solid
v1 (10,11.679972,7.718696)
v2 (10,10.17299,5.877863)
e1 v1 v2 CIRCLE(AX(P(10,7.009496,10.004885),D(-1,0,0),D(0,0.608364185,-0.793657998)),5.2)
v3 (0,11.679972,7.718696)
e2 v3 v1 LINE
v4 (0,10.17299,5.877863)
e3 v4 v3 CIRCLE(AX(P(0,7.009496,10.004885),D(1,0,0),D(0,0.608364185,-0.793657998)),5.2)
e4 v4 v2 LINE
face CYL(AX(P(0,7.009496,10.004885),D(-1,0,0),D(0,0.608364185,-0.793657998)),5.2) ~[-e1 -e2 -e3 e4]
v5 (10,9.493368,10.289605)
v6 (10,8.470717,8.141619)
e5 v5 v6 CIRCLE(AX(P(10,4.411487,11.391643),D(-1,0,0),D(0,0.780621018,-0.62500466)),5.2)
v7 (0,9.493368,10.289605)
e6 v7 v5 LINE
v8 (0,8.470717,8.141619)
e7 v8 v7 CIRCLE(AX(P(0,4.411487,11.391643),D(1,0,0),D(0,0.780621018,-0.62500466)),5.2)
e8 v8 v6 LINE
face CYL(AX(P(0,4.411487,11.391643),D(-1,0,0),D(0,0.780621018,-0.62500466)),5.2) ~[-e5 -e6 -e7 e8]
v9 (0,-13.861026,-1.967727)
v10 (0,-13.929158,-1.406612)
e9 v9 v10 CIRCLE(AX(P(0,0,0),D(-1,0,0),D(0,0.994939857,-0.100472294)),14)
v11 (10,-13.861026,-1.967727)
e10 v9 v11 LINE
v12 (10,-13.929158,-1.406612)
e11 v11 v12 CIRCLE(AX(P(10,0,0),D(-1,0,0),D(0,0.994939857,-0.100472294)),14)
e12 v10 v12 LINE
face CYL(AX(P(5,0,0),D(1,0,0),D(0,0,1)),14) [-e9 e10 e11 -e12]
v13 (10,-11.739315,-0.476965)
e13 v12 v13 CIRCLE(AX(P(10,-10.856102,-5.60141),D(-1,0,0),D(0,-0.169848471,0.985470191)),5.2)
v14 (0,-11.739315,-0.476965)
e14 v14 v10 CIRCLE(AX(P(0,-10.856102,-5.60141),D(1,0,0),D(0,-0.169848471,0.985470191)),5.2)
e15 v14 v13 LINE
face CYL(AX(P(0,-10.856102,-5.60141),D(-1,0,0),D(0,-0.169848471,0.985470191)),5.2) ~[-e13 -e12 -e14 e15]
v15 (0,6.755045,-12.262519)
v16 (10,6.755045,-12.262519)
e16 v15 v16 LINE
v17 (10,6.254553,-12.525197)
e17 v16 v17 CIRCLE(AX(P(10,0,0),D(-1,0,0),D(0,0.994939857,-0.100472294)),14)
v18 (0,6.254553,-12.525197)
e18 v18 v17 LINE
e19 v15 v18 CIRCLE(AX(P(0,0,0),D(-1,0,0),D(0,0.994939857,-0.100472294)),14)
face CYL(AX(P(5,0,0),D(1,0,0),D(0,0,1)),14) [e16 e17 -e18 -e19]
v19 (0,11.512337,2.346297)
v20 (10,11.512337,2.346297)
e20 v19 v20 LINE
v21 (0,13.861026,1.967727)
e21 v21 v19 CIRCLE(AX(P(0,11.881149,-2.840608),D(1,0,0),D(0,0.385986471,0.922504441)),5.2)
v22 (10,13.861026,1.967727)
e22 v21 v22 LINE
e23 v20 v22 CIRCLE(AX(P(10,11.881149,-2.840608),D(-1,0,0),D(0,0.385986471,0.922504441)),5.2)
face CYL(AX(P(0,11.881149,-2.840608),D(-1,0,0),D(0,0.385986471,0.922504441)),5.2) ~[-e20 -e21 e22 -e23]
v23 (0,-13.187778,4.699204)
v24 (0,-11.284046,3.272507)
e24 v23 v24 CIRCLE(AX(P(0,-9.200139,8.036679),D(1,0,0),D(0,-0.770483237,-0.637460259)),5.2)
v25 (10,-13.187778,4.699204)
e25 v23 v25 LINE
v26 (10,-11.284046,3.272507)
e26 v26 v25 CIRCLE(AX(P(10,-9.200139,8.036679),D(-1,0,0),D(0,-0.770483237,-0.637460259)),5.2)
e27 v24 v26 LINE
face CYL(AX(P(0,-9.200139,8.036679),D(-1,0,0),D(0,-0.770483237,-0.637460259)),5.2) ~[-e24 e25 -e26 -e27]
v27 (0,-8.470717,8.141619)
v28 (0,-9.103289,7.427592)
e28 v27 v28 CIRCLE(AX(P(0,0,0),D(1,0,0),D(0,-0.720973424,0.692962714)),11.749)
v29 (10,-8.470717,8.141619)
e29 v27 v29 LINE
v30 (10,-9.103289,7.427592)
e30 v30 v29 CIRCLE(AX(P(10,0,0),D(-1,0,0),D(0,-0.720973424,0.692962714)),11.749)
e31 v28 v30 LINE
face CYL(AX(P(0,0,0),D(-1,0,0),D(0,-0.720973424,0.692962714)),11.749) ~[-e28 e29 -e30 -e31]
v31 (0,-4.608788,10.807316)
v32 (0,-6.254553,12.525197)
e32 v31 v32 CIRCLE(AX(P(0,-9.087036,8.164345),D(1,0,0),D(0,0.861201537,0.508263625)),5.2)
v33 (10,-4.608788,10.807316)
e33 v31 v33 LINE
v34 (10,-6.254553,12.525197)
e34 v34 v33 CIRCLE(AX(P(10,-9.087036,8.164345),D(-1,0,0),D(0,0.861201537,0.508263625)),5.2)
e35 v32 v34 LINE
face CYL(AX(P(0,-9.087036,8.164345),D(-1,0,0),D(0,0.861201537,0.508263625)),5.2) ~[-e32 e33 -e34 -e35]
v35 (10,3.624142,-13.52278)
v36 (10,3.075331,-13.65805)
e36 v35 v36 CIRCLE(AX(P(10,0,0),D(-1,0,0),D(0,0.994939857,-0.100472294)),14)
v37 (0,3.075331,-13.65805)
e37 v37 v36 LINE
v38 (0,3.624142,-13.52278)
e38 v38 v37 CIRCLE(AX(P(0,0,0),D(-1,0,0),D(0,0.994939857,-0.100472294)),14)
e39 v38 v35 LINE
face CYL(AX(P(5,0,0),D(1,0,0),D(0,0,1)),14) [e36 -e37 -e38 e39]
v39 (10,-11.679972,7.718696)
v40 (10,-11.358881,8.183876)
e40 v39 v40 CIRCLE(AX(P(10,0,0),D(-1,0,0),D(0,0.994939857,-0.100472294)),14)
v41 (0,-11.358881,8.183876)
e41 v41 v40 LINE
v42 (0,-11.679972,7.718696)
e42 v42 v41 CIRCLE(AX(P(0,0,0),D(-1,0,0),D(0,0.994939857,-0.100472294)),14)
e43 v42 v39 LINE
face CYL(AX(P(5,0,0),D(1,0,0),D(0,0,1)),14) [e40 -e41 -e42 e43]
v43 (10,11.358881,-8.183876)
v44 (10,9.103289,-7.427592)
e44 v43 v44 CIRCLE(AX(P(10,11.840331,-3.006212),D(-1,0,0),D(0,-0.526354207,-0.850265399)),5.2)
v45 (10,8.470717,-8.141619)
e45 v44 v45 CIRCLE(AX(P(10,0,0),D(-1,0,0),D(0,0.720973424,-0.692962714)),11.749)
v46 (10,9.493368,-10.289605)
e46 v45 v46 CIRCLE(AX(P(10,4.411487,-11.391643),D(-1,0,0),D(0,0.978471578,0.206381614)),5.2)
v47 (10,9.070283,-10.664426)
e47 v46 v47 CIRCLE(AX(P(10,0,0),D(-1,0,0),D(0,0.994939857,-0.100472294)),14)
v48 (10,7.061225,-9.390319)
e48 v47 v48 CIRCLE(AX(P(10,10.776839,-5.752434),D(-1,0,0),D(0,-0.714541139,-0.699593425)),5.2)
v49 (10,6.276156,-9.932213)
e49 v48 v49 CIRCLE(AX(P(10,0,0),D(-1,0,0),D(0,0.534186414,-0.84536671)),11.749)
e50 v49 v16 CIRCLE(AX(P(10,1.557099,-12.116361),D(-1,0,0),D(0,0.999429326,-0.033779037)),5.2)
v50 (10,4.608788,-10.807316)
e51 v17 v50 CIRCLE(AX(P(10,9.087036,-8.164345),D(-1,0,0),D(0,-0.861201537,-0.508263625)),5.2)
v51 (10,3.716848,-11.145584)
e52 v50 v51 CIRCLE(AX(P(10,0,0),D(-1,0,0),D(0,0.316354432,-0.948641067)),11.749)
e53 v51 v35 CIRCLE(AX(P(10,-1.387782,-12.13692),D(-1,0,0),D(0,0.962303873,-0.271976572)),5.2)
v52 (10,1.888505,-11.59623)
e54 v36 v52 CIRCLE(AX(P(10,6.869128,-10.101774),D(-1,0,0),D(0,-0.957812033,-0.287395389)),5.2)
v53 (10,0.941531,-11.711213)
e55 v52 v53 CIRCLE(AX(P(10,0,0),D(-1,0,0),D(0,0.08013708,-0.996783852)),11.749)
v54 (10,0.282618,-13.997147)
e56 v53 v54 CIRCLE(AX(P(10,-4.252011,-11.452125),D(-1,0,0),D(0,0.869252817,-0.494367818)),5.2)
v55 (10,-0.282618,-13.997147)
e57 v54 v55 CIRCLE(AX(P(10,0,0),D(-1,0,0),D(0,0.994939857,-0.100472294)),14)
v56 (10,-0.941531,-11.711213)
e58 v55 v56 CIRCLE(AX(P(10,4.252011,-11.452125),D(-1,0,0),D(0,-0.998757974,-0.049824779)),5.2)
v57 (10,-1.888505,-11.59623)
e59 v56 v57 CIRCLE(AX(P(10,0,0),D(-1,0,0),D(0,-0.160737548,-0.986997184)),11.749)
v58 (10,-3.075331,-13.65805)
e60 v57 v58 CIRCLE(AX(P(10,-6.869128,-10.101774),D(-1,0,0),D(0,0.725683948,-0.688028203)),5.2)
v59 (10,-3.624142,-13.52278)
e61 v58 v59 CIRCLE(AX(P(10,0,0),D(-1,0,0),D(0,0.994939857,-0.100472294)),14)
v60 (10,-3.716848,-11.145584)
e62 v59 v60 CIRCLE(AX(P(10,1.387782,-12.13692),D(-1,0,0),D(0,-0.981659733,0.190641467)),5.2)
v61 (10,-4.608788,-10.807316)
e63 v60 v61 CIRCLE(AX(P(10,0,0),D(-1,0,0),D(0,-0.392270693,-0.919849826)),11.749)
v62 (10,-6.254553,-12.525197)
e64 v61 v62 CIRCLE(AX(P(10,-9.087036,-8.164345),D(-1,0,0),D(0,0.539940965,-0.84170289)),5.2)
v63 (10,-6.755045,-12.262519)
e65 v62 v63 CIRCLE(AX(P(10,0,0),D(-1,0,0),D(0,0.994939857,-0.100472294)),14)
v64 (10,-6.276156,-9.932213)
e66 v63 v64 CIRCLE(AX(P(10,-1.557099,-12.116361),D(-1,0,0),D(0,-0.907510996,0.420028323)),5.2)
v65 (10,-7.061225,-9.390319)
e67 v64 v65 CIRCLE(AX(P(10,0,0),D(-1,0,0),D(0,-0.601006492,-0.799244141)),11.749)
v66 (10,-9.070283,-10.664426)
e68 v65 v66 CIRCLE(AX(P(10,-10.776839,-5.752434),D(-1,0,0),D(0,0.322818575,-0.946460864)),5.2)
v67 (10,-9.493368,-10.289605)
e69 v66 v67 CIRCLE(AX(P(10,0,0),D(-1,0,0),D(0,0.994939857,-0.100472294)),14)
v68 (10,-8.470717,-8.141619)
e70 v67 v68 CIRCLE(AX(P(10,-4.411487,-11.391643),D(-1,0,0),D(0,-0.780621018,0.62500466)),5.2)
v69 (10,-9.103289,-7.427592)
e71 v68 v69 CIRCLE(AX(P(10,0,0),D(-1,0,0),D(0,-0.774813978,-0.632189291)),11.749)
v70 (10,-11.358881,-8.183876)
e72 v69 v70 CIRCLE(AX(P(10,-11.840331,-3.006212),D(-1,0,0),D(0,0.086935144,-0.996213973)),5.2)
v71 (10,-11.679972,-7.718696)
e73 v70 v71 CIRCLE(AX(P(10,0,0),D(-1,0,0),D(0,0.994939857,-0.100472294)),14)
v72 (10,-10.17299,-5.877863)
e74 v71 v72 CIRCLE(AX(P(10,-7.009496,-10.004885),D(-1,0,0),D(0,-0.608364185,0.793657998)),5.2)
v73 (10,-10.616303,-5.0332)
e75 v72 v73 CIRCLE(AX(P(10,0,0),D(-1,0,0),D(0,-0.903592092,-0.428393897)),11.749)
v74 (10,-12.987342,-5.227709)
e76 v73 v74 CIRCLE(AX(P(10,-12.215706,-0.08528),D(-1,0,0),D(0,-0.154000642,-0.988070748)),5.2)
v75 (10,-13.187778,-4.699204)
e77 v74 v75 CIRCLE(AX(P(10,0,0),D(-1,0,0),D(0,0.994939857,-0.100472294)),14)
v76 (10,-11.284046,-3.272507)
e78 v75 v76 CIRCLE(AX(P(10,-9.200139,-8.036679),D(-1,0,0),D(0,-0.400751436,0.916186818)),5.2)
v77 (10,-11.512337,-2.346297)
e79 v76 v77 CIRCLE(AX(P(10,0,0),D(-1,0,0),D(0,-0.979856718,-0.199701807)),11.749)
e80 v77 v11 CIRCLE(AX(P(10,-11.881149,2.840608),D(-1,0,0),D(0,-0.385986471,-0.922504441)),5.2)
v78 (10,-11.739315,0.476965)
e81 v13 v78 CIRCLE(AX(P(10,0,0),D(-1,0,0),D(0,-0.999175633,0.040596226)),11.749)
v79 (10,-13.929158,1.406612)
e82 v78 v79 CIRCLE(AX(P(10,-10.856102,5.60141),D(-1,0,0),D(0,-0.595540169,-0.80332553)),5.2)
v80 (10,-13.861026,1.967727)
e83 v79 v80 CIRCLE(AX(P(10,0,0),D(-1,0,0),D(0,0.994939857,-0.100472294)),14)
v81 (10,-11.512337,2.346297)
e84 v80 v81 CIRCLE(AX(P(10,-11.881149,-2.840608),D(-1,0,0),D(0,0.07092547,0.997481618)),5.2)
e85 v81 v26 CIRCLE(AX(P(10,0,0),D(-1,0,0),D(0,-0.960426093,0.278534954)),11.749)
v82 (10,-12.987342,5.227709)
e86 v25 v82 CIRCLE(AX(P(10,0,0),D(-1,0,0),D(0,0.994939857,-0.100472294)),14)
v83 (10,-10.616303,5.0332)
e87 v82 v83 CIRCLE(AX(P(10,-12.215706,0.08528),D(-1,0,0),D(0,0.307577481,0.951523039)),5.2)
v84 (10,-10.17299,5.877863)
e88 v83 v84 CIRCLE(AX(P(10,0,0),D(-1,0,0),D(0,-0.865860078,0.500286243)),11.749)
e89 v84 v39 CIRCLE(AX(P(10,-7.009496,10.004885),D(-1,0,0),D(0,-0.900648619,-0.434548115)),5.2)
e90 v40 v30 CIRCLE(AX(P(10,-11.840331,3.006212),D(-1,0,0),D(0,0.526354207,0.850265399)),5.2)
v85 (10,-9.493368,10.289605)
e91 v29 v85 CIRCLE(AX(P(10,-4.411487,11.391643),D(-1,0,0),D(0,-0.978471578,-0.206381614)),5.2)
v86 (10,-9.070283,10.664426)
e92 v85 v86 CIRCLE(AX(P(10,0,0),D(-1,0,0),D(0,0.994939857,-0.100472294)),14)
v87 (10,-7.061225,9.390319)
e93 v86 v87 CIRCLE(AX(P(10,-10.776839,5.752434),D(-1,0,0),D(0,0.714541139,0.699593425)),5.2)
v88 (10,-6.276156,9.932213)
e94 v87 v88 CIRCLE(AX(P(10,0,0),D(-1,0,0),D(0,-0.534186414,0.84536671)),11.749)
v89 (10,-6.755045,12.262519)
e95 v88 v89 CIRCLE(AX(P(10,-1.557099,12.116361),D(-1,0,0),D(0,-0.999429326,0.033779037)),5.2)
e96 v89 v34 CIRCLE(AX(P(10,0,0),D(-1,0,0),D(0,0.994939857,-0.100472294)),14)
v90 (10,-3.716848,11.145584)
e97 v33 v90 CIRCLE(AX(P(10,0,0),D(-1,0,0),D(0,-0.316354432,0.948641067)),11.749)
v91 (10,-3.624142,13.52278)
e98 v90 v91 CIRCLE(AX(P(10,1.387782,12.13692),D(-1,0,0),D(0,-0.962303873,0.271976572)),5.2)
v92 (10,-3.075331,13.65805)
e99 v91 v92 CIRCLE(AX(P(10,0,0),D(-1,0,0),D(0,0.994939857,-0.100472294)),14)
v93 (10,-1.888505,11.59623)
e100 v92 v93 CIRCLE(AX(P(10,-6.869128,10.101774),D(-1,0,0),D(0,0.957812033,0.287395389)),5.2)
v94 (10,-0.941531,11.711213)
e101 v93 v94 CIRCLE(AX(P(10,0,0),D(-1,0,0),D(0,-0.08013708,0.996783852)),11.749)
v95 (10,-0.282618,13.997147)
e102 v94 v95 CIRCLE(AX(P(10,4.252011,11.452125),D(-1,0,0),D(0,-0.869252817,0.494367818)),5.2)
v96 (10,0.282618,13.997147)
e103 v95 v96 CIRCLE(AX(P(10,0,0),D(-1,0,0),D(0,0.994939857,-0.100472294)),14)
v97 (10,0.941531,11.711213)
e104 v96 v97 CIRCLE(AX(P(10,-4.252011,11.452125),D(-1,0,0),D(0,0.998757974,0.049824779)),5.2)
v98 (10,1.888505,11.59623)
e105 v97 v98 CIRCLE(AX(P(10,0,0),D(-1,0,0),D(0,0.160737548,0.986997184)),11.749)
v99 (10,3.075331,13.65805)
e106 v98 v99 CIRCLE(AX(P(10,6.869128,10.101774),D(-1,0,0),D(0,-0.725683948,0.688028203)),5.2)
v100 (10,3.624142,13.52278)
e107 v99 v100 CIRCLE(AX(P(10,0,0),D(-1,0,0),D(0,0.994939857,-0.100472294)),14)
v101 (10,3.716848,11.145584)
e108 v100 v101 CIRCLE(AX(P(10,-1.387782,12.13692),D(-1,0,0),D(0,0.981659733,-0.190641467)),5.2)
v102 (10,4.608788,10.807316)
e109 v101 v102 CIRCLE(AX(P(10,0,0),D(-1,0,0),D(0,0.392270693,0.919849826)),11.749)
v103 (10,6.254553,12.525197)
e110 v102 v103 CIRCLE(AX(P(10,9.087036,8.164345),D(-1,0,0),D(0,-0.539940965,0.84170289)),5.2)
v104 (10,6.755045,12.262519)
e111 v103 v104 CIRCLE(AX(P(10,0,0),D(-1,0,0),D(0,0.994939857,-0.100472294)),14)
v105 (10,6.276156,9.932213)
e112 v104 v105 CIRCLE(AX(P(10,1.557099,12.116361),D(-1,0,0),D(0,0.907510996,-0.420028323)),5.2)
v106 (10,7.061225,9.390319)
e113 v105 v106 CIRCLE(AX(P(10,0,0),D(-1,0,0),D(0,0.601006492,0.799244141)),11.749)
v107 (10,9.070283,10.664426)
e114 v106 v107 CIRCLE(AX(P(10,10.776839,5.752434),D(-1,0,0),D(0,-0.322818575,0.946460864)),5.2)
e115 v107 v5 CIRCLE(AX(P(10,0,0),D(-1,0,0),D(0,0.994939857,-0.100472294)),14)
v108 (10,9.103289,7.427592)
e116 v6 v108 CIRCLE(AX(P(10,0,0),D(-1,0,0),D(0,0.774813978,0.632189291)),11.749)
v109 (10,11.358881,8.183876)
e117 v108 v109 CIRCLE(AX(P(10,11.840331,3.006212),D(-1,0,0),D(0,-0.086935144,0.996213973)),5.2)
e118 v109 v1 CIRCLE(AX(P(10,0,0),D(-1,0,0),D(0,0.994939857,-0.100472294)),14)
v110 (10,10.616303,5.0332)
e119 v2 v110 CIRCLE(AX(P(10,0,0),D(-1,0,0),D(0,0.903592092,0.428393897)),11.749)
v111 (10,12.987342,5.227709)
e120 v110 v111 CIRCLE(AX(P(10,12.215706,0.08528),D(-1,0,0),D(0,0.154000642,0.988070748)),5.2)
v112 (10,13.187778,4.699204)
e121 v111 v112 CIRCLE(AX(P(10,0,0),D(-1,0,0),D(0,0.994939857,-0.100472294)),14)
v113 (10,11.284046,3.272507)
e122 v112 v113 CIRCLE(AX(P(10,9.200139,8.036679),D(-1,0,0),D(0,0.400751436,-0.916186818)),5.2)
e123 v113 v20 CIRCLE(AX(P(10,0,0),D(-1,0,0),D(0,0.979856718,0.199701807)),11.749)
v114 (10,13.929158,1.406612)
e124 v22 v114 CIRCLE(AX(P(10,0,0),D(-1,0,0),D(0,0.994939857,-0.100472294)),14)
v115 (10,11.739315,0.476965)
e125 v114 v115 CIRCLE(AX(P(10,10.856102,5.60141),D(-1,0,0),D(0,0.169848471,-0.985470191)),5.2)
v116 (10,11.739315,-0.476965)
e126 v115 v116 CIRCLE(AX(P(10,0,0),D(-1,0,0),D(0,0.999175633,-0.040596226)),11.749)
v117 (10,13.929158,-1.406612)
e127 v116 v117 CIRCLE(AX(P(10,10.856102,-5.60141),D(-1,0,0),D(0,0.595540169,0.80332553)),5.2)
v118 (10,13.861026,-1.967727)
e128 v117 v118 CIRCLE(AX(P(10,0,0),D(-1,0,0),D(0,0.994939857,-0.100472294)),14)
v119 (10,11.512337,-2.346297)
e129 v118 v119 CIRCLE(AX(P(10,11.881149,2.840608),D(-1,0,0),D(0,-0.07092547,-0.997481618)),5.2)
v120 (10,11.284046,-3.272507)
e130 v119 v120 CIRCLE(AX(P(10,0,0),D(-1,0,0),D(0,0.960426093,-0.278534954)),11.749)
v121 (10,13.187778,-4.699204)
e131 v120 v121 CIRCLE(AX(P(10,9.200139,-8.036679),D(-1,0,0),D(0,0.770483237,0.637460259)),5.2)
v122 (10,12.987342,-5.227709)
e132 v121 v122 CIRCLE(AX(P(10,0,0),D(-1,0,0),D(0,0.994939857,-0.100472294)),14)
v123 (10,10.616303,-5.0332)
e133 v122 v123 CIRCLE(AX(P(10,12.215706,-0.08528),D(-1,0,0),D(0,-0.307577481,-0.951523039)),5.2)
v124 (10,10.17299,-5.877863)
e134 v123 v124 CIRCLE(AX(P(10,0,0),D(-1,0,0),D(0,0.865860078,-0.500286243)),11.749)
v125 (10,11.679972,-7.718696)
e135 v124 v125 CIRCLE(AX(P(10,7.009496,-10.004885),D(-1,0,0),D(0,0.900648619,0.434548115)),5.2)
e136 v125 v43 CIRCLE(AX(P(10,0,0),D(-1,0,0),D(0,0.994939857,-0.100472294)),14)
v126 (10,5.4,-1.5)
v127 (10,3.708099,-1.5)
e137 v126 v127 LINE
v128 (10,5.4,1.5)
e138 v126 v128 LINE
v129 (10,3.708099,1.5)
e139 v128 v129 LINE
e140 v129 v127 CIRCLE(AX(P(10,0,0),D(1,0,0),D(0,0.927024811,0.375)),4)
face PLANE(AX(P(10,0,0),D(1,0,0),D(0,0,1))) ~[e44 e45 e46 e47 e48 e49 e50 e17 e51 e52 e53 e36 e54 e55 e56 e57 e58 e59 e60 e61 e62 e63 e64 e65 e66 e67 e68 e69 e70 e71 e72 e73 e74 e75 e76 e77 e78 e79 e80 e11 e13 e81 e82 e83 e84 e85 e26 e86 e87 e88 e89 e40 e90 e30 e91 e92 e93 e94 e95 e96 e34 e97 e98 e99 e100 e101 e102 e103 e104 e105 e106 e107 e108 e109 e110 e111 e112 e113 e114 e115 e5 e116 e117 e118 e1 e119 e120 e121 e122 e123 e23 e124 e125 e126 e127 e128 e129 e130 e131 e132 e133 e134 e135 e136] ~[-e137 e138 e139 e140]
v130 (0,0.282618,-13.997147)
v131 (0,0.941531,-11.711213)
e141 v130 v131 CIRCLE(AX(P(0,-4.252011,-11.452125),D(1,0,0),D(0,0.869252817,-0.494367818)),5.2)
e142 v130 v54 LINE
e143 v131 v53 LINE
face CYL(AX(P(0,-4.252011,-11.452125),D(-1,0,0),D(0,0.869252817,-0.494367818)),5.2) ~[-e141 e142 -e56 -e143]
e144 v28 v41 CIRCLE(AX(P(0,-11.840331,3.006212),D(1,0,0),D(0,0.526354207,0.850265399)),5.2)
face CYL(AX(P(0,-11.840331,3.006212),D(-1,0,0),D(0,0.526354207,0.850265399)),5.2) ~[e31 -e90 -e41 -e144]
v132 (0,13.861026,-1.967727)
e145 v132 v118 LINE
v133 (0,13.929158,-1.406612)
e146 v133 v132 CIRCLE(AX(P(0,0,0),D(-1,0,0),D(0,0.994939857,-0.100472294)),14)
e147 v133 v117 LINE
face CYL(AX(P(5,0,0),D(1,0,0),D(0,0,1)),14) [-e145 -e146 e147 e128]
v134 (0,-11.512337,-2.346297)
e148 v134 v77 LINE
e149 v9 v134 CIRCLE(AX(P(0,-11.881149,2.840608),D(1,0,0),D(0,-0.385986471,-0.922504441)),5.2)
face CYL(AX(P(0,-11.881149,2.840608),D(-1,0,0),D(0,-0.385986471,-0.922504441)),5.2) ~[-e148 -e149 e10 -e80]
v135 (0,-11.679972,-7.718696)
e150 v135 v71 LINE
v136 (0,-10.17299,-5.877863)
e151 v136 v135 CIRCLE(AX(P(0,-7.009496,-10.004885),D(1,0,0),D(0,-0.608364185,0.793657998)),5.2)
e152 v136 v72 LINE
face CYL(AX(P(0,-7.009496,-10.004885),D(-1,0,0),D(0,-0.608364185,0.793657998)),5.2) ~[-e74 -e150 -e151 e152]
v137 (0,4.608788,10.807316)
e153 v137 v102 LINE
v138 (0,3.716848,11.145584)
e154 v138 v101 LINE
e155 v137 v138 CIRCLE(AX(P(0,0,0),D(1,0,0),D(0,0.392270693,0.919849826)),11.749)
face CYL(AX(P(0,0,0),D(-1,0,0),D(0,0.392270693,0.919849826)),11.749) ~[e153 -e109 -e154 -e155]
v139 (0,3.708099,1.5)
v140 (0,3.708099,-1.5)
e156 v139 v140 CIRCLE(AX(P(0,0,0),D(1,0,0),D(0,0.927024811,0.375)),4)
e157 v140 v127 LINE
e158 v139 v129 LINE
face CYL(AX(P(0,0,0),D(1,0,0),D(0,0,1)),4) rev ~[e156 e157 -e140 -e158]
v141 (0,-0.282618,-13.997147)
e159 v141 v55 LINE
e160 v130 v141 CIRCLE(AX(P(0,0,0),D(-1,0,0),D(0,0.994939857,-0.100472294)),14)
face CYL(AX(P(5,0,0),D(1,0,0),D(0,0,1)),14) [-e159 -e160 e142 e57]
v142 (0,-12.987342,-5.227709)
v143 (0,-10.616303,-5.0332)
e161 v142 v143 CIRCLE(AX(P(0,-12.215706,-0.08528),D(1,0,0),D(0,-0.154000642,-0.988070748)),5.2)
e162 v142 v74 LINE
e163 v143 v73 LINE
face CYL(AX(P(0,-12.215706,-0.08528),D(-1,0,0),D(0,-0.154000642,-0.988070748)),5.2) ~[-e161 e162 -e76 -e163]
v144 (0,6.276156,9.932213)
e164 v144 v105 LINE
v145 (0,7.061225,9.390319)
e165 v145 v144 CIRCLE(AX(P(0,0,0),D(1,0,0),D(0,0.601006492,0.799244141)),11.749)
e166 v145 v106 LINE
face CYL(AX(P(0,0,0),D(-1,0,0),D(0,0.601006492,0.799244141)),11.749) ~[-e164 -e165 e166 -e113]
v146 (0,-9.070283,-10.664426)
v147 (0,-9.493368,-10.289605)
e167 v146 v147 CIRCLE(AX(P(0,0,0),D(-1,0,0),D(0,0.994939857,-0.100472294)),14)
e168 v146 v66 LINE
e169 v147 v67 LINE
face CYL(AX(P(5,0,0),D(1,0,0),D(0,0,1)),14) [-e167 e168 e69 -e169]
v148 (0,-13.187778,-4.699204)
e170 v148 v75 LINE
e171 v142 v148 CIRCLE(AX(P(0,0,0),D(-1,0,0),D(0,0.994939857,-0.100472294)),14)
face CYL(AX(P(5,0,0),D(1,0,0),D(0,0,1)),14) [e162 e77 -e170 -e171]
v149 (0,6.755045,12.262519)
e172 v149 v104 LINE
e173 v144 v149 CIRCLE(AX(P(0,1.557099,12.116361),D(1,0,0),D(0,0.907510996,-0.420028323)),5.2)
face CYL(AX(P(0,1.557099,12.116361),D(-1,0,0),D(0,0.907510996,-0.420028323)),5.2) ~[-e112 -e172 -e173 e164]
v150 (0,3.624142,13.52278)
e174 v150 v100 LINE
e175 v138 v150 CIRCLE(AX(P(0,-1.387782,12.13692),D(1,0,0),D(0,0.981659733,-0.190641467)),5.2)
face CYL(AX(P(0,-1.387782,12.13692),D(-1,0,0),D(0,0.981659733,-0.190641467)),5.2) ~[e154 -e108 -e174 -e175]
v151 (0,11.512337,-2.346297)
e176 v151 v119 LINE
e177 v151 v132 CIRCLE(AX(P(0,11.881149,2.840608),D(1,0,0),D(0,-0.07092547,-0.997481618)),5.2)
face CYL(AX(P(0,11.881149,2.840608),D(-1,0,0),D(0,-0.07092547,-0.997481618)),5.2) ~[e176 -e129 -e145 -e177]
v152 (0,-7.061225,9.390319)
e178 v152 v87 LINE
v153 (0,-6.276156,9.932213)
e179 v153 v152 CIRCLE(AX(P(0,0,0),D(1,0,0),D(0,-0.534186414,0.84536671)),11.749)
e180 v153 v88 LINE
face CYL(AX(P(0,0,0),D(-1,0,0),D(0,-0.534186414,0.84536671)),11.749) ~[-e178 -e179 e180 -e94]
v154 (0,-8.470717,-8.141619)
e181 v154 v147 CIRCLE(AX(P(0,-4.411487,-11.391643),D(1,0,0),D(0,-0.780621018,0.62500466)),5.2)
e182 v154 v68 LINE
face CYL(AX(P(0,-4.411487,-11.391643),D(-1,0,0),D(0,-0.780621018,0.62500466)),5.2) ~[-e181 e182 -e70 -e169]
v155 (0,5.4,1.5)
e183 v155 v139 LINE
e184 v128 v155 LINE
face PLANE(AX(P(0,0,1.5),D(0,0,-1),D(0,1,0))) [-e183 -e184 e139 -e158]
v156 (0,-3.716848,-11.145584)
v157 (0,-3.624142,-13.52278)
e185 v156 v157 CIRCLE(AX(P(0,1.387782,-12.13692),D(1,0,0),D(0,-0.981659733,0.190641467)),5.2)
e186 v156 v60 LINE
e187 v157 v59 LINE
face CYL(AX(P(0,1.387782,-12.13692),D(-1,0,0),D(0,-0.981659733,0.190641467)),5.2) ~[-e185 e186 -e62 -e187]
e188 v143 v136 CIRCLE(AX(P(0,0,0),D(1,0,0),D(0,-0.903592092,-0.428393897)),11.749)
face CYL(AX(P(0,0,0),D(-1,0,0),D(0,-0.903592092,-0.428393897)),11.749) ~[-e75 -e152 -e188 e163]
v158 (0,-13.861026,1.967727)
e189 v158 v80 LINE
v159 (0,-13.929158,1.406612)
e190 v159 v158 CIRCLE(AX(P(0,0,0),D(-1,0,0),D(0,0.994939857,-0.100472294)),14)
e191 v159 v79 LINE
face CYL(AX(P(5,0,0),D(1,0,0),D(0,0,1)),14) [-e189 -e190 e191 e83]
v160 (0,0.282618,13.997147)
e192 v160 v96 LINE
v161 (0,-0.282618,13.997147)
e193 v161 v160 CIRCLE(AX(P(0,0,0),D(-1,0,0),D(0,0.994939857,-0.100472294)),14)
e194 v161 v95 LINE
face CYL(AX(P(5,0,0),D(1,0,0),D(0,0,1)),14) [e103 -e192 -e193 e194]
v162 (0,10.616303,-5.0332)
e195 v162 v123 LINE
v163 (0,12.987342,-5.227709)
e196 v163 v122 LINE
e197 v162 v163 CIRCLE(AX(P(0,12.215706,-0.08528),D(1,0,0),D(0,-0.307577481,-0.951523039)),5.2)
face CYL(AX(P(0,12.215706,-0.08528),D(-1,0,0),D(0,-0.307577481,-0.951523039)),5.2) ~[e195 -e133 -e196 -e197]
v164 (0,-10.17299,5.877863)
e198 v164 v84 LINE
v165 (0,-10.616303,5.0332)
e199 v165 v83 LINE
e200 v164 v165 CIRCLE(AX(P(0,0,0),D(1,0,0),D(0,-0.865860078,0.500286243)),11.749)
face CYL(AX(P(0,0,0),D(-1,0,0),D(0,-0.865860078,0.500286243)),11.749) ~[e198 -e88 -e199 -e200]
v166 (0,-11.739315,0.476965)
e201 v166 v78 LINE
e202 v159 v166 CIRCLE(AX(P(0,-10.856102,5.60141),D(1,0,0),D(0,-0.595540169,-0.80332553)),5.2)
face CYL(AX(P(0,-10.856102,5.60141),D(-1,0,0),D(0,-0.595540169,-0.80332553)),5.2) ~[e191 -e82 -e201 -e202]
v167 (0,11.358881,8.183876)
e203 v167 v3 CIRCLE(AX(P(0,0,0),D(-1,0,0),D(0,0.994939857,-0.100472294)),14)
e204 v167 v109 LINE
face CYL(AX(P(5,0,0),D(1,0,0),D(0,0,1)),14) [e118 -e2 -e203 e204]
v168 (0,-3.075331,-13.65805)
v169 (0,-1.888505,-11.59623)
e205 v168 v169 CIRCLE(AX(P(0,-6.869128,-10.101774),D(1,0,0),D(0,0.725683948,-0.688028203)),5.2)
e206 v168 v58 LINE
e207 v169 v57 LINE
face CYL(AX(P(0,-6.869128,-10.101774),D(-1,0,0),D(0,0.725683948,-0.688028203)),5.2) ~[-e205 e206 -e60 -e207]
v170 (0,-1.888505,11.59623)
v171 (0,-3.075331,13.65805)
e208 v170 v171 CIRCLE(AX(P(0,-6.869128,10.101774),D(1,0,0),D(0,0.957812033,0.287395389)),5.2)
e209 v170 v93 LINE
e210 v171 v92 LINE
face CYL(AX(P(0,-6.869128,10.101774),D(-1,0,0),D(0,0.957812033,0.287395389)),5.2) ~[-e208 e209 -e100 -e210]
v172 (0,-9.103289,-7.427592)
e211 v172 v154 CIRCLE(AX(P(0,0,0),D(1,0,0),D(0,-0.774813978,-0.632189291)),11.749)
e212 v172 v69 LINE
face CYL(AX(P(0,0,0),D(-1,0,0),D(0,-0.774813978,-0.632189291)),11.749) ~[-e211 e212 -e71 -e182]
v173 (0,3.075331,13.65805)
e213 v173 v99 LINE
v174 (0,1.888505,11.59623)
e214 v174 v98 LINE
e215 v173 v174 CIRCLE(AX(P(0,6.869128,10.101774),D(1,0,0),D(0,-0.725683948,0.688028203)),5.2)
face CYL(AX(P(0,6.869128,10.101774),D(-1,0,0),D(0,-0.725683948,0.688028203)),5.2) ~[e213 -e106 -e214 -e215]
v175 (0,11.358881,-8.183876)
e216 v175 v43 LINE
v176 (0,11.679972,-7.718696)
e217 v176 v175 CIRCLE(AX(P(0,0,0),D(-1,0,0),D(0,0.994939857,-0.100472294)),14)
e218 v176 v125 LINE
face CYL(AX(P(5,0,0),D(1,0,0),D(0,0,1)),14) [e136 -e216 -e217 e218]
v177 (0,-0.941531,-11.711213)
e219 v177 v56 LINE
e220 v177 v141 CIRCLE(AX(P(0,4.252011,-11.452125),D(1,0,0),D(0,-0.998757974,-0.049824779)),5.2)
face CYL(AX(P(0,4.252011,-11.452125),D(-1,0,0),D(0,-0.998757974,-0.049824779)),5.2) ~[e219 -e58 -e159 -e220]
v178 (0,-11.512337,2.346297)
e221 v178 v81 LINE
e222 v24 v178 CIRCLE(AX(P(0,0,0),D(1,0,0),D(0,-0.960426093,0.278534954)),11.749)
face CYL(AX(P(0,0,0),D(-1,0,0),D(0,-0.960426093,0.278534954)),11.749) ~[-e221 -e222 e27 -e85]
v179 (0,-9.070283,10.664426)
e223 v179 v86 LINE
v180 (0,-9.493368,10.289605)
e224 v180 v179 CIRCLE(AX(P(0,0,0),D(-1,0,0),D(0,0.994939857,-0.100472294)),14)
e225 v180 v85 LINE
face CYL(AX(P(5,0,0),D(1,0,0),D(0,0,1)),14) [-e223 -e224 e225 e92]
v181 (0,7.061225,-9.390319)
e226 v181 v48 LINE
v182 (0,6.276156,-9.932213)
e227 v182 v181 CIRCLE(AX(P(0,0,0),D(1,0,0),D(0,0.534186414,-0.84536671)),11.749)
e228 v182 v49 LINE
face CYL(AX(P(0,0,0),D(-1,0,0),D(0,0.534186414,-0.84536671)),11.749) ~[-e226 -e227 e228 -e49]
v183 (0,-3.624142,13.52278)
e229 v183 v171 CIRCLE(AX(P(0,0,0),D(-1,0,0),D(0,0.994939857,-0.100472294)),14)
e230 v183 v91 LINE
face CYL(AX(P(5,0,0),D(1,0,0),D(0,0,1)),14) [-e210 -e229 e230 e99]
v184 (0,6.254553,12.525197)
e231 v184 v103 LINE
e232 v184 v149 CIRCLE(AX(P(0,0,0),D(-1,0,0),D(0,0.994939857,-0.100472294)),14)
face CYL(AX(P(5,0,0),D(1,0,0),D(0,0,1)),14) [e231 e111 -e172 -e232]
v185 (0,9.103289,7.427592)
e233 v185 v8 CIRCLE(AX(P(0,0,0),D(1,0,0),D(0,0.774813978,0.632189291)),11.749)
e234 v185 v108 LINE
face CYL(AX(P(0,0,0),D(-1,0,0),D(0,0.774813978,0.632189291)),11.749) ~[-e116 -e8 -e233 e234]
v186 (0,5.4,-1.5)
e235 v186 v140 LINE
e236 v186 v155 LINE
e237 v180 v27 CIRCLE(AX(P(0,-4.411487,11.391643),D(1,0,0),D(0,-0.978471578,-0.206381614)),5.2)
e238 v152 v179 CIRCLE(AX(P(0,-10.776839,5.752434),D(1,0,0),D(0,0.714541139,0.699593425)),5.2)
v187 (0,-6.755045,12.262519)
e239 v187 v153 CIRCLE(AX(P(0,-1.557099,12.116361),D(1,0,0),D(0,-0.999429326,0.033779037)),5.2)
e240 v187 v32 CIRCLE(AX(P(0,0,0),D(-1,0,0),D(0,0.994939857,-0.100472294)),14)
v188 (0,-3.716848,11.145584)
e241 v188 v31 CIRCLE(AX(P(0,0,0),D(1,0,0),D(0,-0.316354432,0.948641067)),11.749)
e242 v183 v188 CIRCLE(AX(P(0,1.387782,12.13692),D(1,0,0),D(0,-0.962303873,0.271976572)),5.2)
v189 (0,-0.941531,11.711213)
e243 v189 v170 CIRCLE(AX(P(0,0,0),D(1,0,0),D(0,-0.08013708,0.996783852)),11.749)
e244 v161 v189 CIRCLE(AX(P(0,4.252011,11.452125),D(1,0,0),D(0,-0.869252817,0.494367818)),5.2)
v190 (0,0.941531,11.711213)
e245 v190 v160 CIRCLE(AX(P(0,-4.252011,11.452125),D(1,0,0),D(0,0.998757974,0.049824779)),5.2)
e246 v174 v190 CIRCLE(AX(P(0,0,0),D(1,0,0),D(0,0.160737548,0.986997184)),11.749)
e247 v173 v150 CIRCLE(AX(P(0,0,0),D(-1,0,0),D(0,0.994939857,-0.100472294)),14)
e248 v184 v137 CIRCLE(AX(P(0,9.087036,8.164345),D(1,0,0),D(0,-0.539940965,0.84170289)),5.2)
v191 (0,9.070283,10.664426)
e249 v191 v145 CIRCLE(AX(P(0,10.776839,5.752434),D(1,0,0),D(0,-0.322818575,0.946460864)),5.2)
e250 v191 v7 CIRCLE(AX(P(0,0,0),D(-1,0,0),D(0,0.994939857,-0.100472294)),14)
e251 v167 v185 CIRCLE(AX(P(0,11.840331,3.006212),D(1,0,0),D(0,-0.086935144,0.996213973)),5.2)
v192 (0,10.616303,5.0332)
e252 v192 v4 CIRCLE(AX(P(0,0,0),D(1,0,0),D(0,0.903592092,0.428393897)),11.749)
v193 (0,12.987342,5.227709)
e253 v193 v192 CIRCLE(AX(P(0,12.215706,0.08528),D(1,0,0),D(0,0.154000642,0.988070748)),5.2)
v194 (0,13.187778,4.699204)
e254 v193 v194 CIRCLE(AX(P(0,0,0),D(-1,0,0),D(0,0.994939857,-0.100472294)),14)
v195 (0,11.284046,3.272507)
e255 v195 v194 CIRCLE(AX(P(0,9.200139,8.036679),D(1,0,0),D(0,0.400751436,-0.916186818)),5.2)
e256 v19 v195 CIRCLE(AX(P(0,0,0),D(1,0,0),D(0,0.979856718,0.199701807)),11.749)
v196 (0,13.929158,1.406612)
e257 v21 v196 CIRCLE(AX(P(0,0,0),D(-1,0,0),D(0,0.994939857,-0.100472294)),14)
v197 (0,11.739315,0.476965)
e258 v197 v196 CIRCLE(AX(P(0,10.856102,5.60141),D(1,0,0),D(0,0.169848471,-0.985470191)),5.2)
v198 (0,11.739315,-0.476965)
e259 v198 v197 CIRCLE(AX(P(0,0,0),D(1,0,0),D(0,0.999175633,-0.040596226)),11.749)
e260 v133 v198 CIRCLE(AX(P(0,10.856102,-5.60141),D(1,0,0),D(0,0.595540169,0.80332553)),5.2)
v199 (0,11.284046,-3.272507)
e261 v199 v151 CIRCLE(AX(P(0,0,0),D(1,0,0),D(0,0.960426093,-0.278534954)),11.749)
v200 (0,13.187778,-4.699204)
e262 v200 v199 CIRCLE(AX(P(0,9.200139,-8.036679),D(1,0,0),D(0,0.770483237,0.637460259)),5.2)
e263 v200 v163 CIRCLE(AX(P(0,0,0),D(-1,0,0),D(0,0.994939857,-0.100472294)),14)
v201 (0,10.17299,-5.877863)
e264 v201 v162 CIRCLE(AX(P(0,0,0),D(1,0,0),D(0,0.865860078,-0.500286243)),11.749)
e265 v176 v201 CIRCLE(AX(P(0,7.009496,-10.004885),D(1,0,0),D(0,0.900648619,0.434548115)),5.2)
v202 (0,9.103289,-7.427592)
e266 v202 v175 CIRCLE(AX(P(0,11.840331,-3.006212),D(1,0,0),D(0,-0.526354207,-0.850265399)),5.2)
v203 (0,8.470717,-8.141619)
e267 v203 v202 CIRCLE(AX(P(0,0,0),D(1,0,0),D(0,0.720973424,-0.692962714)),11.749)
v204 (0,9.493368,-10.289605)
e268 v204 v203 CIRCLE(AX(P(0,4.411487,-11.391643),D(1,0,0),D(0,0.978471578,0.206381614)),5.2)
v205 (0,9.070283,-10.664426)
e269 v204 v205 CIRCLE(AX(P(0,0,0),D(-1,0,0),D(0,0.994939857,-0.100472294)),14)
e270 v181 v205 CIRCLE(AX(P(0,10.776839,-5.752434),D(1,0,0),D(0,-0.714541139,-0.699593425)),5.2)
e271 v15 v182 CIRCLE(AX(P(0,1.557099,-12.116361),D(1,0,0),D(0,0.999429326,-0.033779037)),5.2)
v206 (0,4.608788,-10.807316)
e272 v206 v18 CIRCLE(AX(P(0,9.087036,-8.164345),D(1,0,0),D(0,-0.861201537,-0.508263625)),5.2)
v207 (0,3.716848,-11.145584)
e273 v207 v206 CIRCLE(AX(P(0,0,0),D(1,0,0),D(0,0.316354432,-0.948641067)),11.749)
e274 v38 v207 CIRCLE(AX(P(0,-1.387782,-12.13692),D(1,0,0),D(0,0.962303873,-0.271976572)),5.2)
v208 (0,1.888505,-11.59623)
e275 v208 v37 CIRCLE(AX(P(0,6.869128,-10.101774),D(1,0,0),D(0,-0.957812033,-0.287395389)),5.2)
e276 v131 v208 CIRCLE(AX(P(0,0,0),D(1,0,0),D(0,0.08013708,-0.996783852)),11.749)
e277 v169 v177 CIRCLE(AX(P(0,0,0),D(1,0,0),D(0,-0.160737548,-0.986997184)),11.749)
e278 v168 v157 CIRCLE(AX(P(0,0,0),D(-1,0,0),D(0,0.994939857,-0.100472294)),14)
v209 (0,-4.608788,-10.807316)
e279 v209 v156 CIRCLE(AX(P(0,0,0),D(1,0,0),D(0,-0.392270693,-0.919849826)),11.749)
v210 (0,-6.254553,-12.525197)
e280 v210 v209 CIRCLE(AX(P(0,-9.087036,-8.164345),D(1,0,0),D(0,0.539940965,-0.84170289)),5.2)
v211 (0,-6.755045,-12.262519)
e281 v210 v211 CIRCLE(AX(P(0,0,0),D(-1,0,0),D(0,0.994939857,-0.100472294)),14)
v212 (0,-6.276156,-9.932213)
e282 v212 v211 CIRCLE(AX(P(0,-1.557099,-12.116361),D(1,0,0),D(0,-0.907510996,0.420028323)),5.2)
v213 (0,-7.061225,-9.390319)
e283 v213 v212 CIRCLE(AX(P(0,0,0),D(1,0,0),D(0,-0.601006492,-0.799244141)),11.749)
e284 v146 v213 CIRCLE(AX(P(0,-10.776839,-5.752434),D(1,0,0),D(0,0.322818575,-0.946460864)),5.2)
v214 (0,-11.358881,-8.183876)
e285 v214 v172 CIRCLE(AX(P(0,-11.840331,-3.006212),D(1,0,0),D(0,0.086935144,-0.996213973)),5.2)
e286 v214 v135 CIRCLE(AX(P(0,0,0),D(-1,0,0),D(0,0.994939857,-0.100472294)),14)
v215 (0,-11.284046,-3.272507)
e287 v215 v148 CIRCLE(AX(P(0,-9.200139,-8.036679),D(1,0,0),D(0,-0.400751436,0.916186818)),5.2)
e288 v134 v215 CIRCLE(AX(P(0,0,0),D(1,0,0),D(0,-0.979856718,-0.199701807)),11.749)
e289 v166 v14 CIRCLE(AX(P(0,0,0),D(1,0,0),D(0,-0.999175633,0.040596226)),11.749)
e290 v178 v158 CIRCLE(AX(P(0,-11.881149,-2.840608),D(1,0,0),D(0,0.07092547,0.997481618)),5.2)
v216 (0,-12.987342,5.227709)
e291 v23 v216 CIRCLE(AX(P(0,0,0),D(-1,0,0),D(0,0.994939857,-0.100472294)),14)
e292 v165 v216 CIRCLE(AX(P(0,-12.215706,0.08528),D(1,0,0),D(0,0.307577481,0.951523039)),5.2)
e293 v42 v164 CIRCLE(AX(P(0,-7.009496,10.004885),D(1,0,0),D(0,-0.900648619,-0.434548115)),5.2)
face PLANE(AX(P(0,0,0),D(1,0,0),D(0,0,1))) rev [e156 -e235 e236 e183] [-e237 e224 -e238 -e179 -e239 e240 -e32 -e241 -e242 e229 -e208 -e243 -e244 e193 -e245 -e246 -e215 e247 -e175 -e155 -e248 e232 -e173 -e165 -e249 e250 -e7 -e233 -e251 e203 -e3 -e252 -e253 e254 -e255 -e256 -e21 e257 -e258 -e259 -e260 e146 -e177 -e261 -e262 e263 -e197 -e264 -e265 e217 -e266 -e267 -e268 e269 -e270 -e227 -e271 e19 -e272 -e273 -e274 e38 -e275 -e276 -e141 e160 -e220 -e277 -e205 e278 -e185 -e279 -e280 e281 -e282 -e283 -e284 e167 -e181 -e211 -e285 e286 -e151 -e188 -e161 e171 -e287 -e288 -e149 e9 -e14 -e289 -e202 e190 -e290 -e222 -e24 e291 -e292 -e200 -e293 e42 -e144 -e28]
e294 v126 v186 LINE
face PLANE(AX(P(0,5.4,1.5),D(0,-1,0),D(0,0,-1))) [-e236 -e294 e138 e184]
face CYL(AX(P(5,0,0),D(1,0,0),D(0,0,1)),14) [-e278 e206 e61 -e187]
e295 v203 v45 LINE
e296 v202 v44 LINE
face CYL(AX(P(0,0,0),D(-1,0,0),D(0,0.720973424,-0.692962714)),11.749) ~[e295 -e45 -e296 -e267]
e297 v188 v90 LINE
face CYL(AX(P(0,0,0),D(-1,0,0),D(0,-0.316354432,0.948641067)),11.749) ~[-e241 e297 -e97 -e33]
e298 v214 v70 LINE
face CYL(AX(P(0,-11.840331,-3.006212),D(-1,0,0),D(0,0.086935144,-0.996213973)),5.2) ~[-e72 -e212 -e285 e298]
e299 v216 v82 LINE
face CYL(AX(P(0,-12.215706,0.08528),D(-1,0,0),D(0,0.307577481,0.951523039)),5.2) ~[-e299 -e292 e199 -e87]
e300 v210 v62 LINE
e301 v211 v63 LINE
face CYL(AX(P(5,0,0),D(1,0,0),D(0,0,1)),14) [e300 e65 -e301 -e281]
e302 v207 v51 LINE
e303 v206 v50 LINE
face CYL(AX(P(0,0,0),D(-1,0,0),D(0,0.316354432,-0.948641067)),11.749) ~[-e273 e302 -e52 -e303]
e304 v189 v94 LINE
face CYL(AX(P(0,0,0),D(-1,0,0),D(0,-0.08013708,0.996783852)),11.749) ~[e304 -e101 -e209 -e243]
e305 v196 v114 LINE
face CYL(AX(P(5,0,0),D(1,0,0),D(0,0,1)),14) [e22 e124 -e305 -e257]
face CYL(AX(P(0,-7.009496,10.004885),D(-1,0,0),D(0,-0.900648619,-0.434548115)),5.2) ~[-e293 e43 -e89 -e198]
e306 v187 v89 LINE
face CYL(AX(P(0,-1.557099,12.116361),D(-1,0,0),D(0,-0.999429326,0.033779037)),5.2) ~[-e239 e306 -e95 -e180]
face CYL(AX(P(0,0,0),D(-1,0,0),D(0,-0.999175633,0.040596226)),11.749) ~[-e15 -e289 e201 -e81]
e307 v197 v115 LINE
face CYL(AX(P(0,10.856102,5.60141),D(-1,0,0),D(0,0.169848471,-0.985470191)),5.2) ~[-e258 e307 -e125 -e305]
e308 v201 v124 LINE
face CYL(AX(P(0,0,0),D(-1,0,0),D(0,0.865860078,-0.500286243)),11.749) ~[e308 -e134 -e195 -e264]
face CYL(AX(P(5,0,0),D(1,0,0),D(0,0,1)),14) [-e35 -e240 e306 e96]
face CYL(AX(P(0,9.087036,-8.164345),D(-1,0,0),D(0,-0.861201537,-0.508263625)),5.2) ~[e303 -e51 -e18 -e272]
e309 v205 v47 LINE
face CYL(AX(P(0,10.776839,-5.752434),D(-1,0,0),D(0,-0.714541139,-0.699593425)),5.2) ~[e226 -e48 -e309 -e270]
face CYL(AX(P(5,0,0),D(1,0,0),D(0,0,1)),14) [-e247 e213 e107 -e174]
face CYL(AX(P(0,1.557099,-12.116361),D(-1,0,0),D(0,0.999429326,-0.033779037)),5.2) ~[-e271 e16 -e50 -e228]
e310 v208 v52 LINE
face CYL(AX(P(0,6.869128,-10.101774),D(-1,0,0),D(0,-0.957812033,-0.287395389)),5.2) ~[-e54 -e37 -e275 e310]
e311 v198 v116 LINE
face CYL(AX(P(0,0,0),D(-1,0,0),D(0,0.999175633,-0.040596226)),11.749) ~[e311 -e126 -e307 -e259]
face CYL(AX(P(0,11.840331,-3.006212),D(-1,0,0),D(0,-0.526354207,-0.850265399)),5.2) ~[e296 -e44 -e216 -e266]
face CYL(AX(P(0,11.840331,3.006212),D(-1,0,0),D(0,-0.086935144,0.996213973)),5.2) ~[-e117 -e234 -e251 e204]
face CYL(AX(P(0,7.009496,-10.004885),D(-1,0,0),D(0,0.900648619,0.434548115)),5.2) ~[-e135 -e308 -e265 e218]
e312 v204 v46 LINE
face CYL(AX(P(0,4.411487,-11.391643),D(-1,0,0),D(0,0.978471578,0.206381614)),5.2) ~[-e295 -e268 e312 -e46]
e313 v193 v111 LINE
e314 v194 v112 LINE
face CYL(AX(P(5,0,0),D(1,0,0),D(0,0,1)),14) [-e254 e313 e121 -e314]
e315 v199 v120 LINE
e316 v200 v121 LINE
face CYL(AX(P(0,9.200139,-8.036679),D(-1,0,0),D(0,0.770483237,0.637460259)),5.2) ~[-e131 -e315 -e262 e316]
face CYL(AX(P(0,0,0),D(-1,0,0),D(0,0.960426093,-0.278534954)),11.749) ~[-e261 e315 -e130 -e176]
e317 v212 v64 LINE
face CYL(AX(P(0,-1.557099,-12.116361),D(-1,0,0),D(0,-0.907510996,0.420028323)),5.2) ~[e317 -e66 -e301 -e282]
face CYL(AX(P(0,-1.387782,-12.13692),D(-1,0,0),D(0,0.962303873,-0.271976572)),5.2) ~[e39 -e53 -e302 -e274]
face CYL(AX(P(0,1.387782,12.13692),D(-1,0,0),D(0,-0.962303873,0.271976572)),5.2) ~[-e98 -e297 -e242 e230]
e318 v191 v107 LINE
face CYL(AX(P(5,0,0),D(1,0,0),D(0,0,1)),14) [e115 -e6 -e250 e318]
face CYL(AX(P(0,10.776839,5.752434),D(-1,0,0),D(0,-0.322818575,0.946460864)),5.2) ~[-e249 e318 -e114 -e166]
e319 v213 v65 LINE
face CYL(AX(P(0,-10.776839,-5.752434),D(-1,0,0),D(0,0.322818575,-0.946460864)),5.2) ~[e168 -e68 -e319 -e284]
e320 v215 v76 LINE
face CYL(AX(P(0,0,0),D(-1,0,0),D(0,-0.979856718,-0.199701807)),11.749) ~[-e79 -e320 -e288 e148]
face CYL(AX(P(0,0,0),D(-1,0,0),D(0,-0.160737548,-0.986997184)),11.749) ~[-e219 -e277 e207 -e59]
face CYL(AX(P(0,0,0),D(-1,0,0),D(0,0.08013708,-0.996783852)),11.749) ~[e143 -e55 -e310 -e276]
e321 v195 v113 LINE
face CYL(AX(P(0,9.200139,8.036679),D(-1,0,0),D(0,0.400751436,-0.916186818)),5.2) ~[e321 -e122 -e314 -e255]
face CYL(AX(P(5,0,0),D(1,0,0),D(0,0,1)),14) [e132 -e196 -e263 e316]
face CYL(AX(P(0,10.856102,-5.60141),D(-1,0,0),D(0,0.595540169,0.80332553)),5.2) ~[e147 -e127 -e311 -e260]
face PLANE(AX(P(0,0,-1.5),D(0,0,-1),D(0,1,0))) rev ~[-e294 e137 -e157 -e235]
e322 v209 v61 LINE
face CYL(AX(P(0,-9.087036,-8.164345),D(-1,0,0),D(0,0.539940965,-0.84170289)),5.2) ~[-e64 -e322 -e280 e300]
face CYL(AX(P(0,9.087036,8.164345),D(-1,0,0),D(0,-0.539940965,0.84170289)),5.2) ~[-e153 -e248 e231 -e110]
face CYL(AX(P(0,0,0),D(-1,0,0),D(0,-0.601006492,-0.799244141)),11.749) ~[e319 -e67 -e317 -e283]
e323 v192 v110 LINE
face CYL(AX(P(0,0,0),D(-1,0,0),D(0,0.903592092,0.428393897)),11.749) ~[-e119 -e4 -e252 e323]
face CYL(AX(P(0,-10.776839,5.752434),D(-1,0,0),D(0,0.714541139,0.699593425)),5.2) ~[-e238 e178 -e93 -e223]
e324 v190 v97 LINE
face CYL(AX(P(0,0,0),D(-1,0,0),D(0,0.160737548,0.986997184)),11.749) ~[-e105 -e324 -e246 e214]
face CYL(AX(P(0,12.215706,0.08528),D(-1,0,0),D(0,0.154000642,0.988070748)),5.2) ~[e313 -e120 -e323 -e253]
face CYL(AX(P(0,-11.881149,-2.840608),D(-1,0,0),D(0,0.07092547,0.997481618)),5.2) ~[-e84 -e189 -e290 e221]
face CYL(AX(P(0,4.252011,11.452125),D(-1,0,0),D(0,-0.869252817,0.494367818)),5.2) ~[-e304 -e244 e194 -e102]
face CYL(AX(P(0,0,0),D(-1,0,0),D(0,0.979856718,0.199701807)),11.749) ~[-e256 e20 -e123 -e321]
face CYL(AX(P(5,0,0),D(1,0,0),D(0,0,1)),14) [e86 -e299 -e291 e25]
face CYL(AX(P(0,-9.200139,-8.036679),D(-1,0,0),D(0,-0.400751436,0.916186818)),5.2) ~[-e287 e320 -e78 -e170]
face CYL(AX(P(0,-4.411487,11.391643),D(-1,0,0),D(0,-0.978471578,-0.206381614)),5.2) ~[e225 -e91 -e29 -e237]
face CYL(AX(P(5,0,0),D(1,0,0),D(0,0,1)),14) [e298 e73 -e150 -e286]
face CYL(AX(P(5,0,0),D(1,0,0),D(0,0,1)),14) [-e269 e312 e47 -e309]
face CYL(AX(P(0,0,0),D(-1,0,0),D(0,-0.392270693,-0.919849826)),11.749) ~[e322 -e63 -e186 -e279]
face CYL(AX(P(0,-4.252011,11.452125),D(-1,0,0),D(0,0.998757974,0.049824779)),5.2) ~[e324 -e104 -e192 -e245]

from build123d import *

# Parameters (mm, degrees)
BASPROSKE_W     = 10
BASPROSKE_H     = 14
TOOTHCUT_DEPTH  = 23.181073013
TEETHCUTS_COUNT = 26
TEETHCUTS_ANGLE = 346.153846154
BORSKE_R        = 4
BORE_DEPTH      = 50.0000508
KEYSKE_W        = 3
KEYSKE_H        = 5.4
KEYWAY_DEPTH    = 50.0000508


with BuildPart() as part:
    # BasProSke → Base-Revolve (revolve)
    with BuildSketch(Plane(origin=(0, 0, 0), x_dir=(1, 0, 0), z_dir=(0, 1, 0)), mode=Mode.PRIVATE) as base_revolve_sk:
        with Locations((5, 7)):
            Rectangle(BASPROSKE_W, BASPROSKE_H)
    revolve(base_revolve_sk.sketch.rotate(Axis((-10, 0, 0), (1, 0, 0)), 180), axis=Axis((-10, 0, 0), (1, 0, 0)))

    # TooCutSke → ToothCut (cut, through all)
    with BuildSketch(Plane(origin=(0, 0, 0), x_dir=(0, 0, -1), z_dir=(1, 0, 0))):
        with BuildLine():
            ThreePointArc((0.476965065, 11.739314517), (0, 11.749), (-0.476965065, 11.739314517))
            ThreePointArc((-0.476965065, 11.739314517), (-0.82065865, 12.901686978), (-1.424117301, 13.952911348))
            ThreePointArc((-1.424117301, 13.952911348), (0, 14.0254), (1.424117301, 13.952911348))
            ThreePointArc((1.424117301, 13.952911348), (0.82065865, 12.901686978), (0.476965065, 11.739314517))
        make_face()
    toothcut = extrude(amount=TOOTHCUT_DEPTH, mode=Mode.SUBTRACT)

    # TeethCuts: ToothCut ×26 about axis
    teethcuts_axis = Axis((-10, 0, 0), (1, 0, 0))
    for i in range(1, TEETHCUTS_COUNT):
        add(toothcut.rotate(teethcuts_axis, i * TEETHCUTS_ANGLE / (TEETHCUTS_COUNT - 1)), mode=Mode.SUBTRACT)

    # BorSke → Bore (cut, symmetric)
    with BuildSketch(Plane(origin=(0, 0, 0), x_dir=(0, 0, -1), z_dir=(1, 0, 0))):
        with Locations(Location((0, 0, 0), (0, 0, 180))):
            Circle(BORSKE_R)
    extrude(amount=BORE_DEPTH, both=True, mode=Mode.SUBTRACT)

    # KeySke → Keyway (cut, symmetric)
    with BuildSketch(Plane(origin=(0, 0, 0), x_dir=(0, 0, -1), z_dir=(1, 0, 0))):
        with Locations((0, 2.7)):
            Rectangle(KEYSKE_W, KEYSKE_H)
    extrude(amount=KEYWAY_DEPTH, both=True, mode=Mode.SUBTRACT)


solid = part.part
